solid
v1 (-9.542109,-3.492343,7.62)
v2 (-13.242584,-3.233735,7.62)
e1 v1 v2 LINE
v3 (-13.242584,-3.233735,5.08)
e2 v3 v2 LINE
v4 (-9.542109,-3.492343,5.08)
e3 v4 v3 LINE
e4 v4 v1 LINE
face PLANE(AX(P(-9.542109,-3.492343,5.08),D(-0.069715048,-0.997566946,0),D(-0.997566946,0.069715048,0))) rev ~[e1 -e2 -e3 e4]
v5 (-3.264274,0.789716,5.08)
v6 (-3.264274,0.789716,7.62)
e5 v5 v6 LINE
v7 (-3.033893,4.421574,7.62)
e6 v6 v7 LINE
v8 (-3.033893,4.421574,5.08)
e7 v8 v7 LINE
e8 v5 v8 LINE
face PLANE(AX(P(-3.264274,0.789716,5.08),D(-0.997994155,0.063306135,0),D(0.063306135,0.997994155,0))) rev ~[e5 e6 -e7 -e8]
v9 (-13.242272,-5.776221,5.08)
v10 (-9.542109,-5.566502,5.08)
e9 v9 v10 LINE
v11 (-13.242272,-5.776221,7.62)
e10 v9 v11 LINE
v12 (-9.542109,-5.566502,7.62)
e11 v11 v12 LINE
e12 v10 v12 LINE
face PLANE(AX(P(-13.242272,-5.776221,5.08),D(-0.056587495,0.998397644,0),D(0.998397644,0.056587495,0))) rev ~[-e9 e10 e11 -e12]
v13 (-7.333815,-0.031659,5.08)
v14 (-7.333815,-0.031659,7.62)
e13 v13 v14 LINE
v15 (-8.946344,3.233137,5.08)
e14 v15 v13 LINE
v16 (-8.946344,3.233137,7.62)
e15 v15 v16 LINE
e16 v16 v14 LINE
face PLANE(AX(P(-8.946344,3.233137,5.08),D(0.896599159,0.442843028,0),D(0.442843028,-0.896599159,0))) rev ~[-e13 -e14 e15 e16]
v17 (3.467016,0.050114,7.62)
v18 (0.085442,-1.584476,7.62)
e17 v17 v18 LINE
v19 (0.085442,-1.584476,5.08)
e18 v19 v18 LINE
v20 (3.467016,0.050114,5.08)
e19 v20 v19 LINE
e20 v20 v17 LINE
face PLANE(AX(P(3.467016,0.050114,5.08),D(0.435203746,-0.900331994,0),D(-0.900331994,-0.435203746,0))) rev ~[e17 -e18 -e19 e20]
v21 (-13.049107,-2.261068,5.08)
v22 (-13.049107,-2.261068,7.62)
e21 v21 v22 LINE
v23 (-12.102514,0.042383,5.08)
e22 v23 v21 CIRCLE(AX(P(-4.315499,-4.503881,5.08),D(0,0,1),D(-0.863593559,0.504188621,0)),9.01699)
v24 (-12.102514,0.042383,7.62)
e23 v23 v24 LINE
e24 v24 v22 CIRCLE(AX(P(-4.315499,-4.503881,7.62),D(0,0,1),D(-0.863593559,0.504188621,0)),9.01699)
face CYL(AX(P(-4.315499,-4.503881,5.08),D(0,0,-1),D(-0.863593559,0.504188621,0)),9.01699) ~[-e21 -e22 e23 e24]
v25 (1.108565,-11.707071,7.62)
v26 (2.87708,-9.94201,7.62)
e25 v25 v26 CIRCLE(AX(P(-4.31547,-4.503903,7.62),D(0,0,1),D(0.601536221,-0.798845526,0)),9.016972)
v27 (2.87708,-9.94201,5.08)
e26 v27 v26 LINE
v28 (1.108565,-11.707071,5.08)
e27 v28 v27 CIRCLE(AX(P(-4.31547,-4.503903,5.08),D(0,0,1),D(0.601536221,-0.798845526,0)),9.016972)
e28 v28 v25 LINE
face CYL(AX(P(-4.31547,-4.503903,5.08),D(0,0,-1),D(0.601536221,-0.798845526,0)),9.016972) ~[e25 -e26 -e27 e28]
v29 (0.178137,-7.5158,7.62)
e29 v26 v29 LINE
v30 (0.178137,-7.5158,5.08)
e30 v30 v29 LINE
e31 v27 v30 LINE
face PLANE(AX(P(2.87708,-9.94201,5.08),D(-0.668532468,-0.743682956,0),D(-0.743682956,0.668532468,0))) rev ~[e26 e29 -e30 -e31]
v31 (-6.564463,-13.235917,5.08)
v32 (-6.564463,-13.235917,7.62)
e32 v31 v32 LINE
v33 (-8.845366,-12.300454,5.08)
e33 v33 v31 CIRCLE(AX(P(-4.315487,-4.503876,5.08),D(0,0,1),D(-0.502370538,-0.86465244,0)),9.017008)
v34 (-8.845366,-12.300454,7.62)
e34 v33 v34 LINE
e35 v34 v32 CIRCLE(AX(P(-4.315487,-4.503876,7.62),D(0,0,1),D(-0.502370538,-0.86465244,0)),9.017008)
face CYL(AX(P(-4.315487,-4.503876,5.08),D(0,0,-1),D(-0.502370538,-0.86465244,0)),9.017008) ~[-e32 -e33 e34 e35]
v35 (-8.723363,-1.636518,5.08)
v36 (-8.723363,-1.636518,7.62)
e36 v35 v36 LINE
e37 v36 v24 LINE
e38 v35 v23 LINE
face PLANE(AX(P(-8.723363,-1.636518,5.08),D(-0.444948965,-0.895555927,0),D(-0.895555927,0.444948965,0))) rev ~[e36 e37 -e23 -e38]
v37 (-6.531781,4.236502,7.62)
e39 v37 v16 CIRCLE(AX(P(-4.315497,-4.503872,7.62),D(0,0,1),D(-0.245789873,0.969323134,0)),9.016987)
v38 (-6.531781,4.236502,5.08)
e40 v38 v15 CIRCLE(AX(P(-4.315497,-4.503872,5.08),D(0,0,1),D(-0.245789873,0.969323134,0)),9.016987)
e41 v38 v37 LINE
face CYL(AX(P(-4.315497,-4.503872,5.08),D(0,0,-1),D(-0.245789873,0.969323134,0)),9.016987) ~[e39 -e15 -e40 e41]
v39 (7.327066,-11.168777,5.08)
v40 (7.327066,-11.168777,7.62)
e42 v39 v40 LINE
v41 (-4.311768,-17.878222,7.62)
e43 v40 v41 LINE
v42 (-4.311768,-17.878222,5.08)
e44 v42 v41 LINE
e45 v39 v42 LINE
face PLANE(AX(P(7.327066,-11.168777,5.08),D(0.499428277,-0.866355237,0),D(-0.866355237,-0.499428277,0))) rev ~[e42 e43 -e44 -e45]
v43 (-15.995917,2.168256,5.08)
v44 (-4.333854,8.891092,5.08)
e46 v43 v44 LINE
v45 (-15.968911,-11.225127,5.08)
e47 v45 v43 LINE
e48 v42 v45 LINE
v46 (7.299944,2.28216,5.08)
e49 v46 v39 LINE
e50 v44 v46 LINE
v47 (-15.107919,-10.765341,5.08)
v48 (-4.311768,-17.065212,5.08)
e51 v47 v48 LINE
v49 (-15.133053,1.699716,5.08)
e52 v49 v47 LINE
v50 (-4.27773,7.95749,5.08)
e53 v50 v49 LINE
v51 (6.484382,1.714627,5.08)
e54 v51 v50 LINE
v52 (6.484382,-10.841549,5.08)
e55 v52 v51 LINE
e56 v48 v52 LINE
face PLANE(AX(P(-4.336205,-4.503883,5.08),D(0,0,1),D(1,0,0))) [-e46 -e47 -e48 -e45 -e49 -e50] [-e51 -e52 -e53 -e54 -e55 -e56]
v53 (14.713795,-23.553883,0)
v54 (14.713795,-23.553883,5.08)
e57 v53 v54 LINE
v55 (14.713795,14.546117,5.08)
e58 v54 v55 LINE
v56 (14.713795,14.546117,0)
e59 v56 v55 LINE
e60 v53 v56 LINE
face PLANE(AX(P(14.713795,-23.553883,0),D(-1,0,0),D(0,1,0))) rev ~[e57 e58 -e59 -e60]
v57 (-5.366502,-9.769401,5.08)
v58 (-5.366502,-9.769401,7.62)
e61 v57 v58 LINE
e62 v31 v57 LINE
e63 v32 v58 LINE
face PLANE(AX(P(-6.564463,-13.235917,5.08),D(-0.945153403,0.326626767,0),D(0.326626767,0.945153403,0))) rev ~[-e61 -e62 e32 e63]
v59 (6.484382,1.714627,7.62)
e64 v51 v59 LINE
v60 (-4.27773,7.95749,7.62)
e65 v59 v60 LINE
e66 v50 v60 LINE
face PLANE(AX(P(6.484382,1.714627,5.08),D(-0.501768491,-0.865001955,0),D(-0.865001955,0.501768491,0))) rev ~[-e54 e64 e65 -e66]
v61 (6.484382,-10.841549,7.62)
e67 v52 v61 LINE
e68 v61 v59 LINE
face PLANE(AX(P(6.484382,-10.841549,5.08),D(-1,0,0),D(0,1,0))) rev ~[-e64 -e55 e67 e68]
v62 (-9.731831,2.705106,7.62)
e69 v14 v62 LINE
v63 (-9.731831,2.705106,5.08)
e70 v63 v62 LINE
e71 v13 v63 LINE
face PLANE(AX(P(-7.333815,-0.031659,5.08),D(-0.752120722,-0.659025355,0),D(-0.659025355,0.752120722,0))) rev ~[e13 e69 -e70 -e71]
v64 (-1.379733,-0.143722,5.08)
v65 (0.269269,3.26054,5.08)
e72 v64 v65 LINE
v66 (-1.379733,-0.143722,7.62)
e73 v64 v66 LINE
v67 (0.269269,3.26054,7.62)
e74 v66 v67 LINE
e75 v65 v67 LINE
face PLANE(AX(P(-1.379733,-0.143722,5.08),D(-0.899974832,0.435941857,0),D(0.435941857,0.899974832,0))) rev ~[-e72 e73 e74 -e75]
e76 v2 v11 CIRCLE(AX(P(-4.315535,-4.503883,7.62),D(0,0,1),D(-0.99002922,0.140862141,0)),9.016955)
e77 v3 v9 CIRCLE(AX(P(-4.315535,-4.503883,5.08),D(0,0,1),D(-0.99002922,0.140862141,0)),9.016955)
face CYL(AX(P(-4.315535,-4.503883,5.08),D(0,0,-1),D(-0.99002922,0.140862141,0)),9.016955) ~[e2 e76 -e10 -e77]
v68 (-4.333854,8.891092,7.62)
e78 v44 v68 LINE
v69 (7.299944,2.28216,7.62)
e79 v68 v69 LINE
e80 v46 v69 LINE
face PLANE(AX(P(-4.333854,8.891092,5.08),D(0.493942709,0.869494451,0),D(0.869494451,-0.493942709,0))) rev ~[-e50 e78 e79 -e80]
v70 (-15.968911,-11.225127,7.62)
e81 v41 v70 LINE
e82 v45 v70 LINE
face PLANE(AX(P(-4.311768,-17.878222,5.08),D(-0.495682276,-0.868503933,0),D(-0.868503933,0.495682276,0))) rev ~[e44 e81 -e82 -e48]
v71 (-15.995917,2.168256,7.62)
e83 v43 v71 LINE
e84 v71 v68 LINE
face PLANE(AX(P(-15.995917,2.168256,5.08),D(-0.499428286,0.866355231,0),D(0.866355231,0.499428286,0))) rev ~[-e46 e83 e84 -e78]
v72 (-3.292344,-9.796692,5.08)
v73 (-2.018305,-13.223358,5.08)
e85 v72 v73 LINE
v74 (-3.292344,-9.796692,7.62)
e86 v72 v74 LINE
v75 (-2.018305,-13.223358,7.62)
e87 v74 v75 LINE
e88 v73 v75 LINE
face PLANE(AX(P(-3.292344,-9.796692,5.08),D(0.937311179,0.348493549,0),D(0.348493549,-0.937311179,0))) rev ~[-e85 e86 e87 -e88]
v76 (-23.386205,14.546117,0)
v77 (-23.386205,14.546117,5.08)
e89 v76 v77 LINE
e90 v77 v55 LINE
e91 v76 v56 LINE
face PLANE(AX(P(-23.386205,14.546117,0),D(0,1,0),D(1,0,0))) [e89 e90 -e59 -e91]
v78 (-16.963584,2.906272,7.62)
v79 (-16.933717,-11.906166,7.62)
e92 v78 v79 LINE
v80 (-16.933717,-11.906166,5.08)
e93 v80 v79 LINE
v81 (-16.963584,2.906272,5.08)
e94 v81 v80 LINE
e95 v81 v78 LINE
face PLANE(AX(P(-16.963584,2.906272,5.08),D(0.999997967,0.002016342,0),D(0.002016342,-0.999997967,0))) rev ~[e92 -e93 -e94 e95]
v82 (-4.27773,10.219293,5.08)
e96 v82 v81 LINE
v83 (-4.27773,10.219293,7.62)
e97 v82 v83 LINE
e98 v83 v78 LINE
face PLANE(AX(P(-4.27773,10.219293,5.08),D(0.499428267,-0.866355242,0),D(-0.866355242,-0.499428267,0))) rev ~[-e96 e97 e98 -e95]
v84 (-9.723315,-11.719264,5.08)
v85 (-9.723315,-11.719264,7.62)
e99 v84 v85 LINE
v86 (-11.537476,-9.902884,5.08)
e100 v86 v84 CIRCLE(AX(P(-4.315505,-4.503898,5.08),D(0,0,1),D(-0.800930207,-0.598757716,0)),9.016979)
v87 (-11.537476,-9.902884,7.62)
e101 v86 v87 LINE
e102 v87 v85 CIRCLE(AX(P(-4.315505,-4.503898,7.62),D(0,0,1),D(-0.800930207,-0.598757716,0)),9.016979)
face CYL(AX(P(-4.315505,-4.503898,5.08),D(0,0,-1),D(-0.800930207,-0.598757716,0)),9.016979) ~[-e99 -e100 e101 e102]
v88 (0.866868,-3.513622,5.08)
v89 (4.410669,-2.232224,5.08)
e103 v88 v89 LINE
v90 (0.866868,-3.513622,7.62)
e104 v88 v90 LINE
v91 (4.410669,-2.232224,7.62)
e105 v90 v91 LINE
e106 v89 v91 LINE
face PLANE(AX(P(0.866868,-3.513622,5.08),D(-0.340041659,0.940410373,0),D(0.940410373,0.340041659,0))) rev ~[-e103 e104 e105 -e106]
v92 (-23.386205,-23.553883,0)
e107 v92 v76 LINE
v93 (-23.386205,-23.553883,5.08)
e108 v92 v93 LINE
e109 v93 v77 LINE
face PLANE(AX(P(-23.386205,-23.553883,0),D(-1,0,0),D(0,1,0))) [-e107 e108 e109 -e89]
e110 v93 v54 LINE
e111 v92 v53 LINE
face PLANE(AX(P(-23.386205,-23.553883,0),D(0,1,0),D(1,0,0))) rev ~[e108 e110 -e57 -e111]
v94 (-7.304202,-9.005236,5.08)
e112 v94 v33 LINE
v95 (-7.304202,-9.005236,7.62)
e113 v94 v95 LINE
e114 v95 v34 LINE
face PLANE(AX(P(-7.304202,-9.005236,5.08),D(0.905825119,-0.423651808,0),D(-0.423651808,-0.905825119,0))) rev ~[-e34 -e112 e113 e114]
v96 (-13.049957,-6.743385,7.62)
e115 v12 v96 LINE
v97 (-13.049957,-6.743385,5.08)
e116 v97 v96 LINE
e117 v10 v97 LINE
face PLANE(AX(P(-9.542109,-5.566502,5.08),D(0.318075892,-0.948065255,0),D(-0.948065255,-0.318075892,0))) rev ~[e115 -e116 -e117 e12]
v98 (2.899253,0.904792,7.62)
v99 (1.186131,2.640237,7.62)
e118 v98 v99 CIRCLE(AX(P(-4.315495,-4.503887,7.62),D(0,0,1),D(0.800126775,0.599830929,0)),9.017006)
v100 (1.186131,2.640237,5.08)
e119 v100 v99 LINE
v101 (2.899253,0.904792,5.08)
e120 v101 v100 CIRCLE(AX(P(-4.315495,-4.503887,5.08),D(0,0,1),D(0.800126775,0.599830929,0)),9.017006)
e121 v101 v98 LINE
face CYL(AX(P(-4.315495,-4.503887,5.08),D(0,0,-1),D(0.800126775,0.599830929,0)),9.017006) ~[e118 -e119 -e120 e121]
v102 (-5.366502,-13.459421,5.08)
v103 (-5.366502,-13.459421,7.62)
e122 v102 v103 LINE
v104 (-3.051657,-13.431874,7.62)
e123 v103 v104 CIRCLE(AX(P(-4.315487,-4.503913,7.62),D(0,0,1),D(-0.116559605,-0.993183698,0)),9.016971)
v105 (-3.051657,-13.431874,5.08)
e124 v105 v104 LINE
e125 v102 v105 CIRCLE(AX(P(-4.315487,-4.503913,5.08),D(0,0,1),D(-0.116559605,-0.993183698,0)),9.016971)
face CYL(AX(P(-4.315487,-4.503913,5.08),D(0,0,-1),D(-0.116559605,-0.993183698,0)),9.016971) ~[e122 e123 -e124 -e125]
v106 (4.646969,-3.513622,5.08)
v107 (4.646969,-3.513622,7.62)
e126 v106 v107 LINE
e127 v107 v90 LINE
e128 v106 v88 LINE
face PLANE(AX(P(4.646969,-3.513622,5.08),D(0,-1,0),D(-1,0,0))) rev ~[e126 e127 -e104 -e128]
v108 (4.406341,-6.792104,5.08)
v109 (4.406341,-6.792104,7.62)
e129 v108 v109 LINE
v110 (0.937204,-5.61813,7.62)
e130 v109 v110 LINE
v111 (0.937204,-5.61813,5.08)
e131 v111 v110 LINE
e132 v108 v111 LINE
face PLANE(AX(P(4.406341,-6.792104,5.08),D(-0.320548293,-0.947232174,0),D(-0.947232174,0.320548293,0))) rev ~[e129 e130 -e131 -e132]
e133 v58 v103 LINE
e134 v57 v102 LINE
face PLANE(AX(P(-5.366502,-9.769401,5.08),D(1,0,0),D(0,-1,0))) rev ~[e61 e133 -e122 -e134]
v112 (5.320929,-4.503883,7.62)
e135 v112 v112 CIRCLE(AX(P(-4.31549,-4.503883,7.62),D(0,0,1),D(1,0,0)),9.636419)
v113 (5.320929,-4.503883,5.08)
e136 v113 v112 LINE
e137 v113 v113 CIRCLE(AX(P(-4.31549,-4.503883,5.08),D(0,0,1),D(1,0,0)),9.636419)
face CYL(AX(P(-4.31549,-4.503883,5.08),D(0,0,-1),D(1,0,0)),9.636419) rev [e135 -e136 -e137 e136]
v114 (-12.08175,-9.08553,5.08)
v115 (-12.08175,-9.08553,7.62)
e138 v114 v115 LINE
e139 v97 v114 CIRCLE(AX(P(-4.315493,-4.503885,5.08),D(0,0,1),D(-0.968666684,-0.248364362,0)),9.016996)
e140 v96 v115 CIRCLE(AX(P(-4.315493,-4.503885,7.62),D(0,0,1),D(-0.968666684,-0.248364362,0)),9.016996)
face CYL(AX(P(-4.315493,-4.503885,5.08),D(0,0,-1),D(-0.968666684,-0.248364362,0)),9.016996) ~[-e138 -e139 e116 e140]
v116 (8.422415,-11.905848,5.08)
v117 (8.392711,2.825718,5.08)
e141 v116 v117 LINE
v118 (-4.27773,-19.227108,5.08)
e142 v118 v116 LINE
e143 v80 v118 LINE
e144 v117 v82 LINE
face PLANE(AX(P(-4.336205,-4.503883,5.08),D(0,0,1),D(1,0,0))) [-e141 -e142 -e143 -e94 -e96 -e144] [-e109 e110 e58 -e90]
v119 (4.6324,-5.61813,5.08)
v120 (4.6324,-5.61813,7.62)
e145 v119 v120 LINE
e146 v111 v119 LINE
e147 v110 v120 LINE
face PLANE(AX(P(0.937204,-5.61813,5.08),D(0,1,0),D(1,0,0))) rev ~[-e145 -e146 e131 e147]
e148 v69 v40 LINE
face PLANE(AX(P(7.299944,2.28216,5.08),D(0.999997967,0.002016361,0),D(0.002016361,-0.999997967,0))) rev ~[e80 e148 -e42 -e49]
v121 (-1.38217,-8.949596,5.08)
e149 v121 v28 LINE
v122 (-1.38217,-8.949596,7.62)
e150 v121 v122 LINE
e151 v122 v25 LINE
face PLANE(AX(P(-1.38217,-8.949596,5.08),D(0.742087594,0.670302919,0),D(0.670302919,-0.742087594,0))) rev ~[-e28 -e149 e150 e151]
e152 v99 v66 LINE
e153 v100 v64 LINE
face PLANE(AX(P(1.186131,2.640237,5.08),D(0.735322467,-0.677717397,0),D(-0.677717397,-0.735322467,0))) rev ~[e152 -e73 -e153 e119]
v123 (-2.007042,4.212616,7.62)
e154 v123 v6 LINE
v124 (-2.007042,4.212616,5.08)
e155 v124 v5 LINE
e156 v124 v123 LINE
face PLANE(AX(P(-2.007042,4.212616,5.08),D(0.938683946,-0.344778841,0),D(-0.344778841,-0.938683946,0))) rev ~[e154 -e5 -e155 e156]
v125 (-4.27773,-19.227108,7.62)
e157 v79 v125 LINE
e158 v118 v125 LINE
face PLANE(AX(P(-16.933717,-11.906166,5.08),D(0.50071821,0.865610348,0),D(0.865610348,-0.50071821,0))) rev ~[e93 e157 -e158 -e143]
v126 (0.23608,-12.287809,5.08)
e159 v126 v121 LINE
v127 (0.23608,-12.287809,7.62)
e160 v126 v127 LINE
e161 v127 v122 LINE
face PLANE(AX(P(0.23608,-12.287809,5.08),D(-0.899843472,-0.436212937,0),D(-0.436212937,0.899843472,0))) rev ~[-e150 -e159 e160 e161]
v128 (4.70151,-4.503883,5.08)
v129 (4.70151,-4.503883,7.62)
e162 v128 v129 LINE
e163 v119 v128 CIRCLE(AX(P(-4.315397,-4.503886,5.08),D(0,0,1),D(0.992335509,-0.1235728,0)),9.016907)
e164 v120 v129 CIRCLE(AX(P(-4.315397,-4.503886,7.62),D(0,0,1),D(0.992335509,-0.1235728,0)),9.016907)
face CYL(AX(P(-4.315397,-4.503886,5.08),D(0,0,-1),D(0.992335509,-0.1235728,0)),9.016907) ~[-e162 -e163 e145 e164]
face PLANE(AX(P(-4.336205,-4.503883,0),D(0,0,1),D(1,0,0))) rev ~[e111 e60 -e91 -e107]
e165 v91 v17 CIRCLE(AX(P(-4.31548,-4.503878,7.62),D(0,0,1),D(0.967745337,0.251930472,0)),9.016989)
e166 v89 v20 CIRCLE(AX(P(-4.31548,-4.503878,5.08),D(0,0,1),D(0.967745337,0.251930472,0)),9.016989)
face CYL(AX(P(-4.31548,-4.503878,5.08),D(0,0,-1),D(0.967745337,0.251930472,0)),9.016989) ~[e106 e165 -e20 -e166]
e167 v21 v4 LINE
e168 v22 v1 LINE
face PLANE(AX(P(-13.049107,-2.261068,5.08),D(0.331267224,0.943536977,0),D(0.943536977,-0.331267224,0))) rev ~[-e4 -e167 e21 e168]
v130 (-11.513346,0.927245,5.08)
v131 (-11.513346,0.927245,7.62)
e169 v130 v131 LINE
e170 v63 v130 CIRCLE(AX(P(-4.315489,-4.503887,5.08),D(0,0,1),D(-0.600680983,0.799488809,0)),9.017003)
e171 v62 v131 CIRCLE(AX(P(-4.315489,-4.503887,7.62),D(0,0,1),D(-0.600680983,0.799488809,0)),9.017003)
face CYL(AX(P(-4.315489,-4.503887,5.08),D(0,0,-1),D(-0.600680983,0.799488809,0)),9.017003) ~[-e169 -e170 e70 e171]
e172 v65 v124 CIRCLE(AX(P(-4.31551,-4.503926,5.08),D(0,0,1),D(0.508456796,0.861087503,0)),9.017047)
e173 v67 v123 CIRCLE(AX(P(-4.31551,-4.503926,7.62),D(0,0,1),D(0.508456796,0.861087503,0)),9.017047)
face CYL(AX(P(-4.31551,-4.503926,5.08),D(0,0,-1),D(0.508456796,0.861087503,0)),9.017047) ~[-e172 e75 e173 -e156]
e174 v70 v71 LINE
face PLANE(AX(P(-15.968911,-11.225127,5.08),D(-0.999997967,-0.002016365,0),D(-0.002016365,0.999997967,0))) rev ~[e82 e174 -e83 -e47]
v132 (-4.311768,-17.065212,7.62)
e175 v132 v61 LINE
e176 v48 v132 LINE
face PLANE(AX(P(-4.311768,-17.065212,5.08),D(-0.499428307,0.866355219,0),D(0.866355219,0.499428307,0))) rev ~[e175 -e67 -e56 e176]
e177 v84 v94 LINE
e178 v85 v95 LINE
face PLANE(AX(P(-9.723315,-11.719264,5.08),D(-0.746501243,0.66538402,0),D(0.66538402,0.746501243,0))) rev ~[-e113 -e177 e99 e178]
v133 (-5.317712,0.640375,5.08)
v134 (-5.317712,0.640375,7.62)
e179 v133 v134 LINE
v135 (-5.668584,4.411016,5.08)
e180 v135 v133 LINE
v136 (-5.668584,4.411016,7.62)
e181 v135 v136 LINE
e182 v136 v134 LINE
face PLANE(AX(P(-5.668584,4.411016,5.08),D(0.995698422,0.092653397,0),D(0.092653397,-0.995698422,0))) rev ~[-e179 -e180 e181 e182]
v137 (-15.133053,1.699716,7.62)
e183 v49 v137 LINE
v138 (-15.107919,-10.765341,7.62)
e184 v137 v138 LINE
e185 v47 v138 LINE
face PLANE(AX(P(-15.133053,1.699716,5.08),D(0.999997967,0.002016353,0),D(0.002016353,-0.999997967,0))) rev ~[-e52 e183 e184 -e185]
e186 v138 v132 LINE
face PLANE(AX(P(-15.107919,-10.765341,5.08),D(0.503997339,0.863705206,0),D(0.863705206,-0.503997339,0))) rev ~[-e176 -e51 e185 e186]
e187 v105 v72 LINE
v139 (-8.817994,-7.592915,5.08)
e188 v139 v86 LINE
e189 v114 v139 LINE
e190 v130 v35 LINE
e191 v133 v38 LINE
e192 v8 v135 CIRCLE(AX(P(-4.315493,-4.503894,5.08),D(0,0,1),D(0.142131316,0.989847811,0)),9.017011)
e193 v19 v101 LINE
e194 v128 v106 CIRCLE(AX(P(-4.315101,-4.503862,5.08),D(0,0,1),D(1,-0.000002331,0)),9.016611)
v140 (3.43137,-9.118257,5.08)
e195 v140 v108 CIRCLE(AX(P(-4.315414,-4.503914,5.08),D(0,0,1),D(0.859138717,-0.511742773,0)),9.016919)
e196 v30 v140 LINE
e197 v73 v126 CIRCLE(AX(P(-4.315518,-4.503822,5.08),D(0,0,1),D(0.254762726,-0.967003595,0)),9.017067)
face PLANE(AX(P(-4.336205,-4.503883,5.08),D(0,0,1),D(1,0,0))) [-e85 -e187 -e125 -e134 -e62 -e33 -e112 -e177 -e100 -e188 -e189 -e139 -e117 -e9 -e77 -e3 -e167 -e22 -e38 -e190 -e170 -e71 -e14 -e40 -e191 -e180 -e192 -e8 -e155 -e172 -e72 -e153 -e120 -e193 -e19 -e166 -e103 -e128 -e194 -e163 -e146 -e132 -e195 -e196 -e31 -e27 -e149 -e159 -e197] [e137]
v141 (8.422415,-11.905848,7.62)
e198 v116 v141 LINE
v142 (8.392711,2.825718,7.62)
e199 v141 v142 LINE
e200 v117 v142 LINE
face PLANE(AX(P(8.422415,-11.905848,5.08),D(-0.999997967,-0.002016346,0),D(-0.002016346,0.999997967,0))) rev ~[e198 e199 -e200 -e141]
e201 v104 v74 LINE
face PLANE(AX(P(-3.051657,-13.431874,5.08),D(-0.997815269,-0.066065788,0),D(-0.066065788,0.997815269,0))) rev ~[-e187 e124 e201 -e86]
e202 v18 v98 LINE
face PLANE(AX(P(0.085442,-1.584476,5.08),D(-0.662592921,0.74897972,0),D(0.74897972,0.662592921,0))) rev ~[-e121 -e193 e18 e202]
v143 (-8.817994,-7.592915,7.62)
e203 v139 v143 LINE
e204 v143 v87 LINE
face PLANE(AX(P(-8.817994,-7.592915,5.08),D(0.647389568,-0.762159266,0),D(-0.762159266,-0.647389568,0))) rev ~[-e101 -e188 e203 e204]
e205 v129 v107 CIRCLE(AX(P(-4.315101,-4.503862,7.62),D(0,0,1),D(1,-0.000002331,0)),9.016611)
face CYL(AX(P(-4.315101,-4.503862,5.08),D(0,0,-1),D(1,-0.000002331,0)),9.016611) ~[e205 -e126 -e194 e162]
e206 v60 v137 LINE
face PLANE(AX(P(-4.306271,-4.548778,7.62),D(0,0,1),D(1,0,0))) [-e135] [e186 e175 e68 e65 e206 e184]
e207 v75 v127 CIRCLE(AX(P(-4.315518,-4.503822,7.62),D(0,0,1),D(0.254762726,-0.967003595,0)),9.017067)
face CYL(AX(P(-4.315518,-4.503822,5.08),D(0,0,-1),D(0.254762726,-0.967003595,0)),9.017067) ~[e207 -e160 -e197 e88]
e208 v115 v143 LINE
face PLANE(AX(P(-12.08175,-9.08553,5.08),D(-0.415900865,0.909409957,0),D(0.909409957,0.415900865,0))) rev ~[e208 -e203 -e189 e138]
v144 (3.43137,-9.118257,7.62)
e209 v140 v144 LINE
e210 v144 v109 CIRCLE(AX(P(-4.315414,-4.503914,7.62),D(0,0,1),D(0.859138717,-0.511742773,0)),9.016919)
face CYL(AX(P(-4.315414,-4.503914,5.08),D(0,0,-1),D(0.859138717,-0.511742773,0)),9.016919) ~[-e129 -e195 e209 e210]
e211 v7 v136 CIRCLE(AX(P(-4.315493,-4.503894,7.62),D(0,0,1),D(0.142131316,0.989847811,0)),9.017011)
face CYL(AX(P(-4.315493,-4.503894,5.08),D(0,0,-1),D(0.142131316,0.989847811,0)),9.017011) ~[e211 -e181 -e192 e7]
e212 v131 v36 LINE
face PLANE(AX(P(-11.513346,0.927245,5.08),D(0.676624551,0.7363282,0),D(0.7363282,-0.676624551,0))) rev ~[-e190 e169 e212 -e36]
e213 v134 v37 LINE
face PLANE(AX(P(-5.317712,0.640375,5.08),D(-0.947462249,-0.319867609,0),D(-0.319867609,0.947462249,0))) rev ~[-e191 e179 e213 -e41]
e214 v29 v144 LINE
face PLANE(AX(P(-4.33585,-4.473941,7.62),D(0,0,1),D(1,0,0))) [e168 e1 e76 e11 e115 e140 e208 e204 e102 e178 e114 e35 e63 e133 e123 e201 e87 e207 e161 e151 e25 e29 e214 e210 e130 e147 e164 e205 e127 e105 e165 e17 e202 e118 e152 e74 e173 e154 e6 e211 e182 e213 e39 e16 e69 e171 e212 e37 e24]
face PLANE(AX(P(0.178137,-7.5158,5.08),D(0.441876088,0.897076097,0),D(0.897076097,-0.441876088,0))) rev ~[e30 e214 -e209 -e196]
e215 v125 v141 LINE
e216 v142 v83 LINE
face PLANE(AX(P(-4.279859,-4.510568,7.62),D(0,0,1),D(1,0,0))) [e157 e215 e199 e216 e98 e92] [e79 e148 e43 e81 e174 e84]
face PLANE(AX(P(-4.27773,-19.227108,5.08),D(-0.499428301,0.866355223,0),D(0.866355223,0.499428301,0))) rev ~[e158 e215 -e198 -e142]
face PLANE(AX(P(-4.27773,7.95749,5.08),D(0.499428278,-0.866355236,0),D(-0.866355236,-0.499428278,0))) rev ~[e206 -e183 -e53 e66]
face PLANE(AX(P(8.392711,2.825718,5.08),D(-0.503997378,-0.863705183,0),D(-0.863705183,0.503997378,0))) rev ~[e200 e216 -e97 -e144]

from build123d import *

# Parameters (mm, degrees)
F0_W     = 38.1
F0_H     = 38.1
F1_DEPTH = 5.08
F2_R     = 9.636419
F3_DEPTH = 2.54


with BuildPart() as f1:
    # F0 (on Top) → F1 (new body)
    with BuildSketch(Plane.XY):
        with Locations((-4.336205, -4.503883)):
            Rectangle(F0_W, F0_H)
    extrude(amount=F1_DEPTH)

    # F2 (on face) → F3 (join)
    with BuildSketch(Plane.XY.offset(5.08)):
        Polygon((-16.963584, 2.906272), (-16.933717, -11.906166), (-4.27773, -19.227108), (8.422415, -11.905848), (8.392711, 2.825718), (-4.27773, 10.219293), align=None)
        Polygon((-4.311768, -17.878222), (-15.968911, -11.225127), (-15.995917, 2.168256), (-4.333854, 8.891092), (7.299944, 2.28216), (7.327066, -11.168777), align=None, mode=Mode.SUBTRACT)
        Polygon((-15.133053, 1.699716), (-15.107919, -10.765341), (-4.311768, -17.065212), (6.484382, -10.841549), (6.484382, 1.714627), (-4.27773, 7.95749), align=None)
        with Locations((-4.31549, -4.503883)):
            Circle(F2_R, mode=Mode.SUBTRACT)
        with BuildLine():
            ThreePointArc((4.6324, -5.61813), (4.684216, -5.062077), (4.70151, -4.503883))
            ThreePointArc((4.70151, -4.503883), (4.687865, -4.008002), (4.646969, -3.513622))
            Line((4.646969, -3.513622), (0.866868, -3.513622))
            Line((0.866868, -3.513622), (4.410669, -2.232224))
            ThreePointArc((4.410669, -2.232224), (4.017353, -1.058594), (3.467016, 0.050114))
            Line((3.467016, 0.050114), (0.085442, -1.584476))
            Line((0.085442, -1.584476), (2.899253, 0.904792))
            ThreePointArc((2.899253, 0.904792), (2.101629, 1.830694), (1.186131, 2.640237))
            Line((1.186131, 2.640237), (-1.379733, -0.143722))
            Line((-1.379733, -0.143722), (0.269269, 3.26054))
            ThreePointArc((0.269269, 3.26054), (-0.836167, 3.814806), (-2.007042, 4.212616))
            Line((-2.007042, 4.212616), (-3.264274, 0.789716))
            Line((-3.264274, 0.789716), (-3.033893, 4.421574))
            ThreePointArc((-3.033893, 4.421574), (-4.351626, 4.513044), (-5.668584, 4.411016))
            Line((-5.668584, 4.411016), (-5.317712, 0.640375))
            Line((-5.317712, 0.640375), (-6.531781, 4.236502))
            ThreePointArc((-6.531781, 4.236502), (-7.775625, 3.822806), (-8.946344, 3.233137))
            Line((-8.946344, 3.233137), (-7.333815, -0.031659))
            Line((-7.333815, -0.031659), (-9.731831, 2.705106))
            ThreePointArc((-9.731831, 2.705106), (-10.684924, 1.878639), (-11.513346, 0.927245))
            Line((-11.513346, 0.927245), (-8.723363, -1.636518))
            Line((-8.723363, -1.636518), (-12.102514, 0.042383))
            ThreePointArc((-12.102514, 0.042383), (-12.655716, -1.076506), (-13.049107, -2.261068))
            Line((-13.049107, -2.261068), (-9.542109, -3.492343))
            Line((-9.542109, -3.492343), (-13.242584, -3.233735))
            ThreePointArc((-13.242584, -3.233735), (-13.33249, -4.504989), (-13.242272, -5.776221))
            Line((-13.242272, -5.776221), (-9.542109, -5.566502))
            Line((-9.542109, -5.566502), (-13.049957, -6.743385))
            ThreePointArc((-13.049957, -6.743385), (-12.648551, -7.948644), (-12.08175, -9.08553))
            Line((-12.08175, -9.08553), (-8.817994, -7.592915))
            Line((-8.817994, -7.592915), (-11.537476, -9.902884))
            ThreePointArc((-11.537476, -9.902884), (-10.695368, -10.875967), (-9.723315, -11.719264))
            Line((-9.723315, -11.719264), (-7.304202, -9.005236))
            Line((-7.304202, -9.005236), (-8.845366, -12.300454))
            ThreePointArc((-8.845366, -12.300454), (-7.737035, -12.846504), (-6.564463, -13.235917))
            Line((-6.564463, -13.235917), (-5.366502, -9.769401))
            Line((-5.366502, -9.769401), (-5.366502, -13.459421))
            ThreePointArc((-5.366502, -13.459421), (-4.208192, -13.520245), (-3.051657, -13.431874))
            Line((-3.051657, -13.431874), (-3.292344, -9.796692))
            Line((-3.292344, -9.796692), (-2.018305, -13.223358))
            ThreePointArc((-2.018305, -13.223358), (-0.859311, -12.832215), (0.23608, -12.287809))
            Line((0.23608, -12.287809), (-1.38217, -8.949596))
            Line((-1.38217, -8.949596), (1.108565, -11.707071))
            ThreePointArc((1.108565, -11.707071), (2.054256, -10.886095), (2.87708, -9.94201))
            Line((2.87708, -9.94201), (0.178137, -7.5158))
            Line((0.178137, -7.5158), (3.43137, -9.118257))
            ThreePointArc((3.43137, -9.118257), (4.000591, -7.989439), (4.406341, -6.792104))
            Line((4.406341, -6.792104), (0.937204, -5.61813))
            Line((0.937204, -5.61813), (4.6324, -5.61813))
        make_face()
    extrude(amount=F3_DEPTH)


solid = f1.part
